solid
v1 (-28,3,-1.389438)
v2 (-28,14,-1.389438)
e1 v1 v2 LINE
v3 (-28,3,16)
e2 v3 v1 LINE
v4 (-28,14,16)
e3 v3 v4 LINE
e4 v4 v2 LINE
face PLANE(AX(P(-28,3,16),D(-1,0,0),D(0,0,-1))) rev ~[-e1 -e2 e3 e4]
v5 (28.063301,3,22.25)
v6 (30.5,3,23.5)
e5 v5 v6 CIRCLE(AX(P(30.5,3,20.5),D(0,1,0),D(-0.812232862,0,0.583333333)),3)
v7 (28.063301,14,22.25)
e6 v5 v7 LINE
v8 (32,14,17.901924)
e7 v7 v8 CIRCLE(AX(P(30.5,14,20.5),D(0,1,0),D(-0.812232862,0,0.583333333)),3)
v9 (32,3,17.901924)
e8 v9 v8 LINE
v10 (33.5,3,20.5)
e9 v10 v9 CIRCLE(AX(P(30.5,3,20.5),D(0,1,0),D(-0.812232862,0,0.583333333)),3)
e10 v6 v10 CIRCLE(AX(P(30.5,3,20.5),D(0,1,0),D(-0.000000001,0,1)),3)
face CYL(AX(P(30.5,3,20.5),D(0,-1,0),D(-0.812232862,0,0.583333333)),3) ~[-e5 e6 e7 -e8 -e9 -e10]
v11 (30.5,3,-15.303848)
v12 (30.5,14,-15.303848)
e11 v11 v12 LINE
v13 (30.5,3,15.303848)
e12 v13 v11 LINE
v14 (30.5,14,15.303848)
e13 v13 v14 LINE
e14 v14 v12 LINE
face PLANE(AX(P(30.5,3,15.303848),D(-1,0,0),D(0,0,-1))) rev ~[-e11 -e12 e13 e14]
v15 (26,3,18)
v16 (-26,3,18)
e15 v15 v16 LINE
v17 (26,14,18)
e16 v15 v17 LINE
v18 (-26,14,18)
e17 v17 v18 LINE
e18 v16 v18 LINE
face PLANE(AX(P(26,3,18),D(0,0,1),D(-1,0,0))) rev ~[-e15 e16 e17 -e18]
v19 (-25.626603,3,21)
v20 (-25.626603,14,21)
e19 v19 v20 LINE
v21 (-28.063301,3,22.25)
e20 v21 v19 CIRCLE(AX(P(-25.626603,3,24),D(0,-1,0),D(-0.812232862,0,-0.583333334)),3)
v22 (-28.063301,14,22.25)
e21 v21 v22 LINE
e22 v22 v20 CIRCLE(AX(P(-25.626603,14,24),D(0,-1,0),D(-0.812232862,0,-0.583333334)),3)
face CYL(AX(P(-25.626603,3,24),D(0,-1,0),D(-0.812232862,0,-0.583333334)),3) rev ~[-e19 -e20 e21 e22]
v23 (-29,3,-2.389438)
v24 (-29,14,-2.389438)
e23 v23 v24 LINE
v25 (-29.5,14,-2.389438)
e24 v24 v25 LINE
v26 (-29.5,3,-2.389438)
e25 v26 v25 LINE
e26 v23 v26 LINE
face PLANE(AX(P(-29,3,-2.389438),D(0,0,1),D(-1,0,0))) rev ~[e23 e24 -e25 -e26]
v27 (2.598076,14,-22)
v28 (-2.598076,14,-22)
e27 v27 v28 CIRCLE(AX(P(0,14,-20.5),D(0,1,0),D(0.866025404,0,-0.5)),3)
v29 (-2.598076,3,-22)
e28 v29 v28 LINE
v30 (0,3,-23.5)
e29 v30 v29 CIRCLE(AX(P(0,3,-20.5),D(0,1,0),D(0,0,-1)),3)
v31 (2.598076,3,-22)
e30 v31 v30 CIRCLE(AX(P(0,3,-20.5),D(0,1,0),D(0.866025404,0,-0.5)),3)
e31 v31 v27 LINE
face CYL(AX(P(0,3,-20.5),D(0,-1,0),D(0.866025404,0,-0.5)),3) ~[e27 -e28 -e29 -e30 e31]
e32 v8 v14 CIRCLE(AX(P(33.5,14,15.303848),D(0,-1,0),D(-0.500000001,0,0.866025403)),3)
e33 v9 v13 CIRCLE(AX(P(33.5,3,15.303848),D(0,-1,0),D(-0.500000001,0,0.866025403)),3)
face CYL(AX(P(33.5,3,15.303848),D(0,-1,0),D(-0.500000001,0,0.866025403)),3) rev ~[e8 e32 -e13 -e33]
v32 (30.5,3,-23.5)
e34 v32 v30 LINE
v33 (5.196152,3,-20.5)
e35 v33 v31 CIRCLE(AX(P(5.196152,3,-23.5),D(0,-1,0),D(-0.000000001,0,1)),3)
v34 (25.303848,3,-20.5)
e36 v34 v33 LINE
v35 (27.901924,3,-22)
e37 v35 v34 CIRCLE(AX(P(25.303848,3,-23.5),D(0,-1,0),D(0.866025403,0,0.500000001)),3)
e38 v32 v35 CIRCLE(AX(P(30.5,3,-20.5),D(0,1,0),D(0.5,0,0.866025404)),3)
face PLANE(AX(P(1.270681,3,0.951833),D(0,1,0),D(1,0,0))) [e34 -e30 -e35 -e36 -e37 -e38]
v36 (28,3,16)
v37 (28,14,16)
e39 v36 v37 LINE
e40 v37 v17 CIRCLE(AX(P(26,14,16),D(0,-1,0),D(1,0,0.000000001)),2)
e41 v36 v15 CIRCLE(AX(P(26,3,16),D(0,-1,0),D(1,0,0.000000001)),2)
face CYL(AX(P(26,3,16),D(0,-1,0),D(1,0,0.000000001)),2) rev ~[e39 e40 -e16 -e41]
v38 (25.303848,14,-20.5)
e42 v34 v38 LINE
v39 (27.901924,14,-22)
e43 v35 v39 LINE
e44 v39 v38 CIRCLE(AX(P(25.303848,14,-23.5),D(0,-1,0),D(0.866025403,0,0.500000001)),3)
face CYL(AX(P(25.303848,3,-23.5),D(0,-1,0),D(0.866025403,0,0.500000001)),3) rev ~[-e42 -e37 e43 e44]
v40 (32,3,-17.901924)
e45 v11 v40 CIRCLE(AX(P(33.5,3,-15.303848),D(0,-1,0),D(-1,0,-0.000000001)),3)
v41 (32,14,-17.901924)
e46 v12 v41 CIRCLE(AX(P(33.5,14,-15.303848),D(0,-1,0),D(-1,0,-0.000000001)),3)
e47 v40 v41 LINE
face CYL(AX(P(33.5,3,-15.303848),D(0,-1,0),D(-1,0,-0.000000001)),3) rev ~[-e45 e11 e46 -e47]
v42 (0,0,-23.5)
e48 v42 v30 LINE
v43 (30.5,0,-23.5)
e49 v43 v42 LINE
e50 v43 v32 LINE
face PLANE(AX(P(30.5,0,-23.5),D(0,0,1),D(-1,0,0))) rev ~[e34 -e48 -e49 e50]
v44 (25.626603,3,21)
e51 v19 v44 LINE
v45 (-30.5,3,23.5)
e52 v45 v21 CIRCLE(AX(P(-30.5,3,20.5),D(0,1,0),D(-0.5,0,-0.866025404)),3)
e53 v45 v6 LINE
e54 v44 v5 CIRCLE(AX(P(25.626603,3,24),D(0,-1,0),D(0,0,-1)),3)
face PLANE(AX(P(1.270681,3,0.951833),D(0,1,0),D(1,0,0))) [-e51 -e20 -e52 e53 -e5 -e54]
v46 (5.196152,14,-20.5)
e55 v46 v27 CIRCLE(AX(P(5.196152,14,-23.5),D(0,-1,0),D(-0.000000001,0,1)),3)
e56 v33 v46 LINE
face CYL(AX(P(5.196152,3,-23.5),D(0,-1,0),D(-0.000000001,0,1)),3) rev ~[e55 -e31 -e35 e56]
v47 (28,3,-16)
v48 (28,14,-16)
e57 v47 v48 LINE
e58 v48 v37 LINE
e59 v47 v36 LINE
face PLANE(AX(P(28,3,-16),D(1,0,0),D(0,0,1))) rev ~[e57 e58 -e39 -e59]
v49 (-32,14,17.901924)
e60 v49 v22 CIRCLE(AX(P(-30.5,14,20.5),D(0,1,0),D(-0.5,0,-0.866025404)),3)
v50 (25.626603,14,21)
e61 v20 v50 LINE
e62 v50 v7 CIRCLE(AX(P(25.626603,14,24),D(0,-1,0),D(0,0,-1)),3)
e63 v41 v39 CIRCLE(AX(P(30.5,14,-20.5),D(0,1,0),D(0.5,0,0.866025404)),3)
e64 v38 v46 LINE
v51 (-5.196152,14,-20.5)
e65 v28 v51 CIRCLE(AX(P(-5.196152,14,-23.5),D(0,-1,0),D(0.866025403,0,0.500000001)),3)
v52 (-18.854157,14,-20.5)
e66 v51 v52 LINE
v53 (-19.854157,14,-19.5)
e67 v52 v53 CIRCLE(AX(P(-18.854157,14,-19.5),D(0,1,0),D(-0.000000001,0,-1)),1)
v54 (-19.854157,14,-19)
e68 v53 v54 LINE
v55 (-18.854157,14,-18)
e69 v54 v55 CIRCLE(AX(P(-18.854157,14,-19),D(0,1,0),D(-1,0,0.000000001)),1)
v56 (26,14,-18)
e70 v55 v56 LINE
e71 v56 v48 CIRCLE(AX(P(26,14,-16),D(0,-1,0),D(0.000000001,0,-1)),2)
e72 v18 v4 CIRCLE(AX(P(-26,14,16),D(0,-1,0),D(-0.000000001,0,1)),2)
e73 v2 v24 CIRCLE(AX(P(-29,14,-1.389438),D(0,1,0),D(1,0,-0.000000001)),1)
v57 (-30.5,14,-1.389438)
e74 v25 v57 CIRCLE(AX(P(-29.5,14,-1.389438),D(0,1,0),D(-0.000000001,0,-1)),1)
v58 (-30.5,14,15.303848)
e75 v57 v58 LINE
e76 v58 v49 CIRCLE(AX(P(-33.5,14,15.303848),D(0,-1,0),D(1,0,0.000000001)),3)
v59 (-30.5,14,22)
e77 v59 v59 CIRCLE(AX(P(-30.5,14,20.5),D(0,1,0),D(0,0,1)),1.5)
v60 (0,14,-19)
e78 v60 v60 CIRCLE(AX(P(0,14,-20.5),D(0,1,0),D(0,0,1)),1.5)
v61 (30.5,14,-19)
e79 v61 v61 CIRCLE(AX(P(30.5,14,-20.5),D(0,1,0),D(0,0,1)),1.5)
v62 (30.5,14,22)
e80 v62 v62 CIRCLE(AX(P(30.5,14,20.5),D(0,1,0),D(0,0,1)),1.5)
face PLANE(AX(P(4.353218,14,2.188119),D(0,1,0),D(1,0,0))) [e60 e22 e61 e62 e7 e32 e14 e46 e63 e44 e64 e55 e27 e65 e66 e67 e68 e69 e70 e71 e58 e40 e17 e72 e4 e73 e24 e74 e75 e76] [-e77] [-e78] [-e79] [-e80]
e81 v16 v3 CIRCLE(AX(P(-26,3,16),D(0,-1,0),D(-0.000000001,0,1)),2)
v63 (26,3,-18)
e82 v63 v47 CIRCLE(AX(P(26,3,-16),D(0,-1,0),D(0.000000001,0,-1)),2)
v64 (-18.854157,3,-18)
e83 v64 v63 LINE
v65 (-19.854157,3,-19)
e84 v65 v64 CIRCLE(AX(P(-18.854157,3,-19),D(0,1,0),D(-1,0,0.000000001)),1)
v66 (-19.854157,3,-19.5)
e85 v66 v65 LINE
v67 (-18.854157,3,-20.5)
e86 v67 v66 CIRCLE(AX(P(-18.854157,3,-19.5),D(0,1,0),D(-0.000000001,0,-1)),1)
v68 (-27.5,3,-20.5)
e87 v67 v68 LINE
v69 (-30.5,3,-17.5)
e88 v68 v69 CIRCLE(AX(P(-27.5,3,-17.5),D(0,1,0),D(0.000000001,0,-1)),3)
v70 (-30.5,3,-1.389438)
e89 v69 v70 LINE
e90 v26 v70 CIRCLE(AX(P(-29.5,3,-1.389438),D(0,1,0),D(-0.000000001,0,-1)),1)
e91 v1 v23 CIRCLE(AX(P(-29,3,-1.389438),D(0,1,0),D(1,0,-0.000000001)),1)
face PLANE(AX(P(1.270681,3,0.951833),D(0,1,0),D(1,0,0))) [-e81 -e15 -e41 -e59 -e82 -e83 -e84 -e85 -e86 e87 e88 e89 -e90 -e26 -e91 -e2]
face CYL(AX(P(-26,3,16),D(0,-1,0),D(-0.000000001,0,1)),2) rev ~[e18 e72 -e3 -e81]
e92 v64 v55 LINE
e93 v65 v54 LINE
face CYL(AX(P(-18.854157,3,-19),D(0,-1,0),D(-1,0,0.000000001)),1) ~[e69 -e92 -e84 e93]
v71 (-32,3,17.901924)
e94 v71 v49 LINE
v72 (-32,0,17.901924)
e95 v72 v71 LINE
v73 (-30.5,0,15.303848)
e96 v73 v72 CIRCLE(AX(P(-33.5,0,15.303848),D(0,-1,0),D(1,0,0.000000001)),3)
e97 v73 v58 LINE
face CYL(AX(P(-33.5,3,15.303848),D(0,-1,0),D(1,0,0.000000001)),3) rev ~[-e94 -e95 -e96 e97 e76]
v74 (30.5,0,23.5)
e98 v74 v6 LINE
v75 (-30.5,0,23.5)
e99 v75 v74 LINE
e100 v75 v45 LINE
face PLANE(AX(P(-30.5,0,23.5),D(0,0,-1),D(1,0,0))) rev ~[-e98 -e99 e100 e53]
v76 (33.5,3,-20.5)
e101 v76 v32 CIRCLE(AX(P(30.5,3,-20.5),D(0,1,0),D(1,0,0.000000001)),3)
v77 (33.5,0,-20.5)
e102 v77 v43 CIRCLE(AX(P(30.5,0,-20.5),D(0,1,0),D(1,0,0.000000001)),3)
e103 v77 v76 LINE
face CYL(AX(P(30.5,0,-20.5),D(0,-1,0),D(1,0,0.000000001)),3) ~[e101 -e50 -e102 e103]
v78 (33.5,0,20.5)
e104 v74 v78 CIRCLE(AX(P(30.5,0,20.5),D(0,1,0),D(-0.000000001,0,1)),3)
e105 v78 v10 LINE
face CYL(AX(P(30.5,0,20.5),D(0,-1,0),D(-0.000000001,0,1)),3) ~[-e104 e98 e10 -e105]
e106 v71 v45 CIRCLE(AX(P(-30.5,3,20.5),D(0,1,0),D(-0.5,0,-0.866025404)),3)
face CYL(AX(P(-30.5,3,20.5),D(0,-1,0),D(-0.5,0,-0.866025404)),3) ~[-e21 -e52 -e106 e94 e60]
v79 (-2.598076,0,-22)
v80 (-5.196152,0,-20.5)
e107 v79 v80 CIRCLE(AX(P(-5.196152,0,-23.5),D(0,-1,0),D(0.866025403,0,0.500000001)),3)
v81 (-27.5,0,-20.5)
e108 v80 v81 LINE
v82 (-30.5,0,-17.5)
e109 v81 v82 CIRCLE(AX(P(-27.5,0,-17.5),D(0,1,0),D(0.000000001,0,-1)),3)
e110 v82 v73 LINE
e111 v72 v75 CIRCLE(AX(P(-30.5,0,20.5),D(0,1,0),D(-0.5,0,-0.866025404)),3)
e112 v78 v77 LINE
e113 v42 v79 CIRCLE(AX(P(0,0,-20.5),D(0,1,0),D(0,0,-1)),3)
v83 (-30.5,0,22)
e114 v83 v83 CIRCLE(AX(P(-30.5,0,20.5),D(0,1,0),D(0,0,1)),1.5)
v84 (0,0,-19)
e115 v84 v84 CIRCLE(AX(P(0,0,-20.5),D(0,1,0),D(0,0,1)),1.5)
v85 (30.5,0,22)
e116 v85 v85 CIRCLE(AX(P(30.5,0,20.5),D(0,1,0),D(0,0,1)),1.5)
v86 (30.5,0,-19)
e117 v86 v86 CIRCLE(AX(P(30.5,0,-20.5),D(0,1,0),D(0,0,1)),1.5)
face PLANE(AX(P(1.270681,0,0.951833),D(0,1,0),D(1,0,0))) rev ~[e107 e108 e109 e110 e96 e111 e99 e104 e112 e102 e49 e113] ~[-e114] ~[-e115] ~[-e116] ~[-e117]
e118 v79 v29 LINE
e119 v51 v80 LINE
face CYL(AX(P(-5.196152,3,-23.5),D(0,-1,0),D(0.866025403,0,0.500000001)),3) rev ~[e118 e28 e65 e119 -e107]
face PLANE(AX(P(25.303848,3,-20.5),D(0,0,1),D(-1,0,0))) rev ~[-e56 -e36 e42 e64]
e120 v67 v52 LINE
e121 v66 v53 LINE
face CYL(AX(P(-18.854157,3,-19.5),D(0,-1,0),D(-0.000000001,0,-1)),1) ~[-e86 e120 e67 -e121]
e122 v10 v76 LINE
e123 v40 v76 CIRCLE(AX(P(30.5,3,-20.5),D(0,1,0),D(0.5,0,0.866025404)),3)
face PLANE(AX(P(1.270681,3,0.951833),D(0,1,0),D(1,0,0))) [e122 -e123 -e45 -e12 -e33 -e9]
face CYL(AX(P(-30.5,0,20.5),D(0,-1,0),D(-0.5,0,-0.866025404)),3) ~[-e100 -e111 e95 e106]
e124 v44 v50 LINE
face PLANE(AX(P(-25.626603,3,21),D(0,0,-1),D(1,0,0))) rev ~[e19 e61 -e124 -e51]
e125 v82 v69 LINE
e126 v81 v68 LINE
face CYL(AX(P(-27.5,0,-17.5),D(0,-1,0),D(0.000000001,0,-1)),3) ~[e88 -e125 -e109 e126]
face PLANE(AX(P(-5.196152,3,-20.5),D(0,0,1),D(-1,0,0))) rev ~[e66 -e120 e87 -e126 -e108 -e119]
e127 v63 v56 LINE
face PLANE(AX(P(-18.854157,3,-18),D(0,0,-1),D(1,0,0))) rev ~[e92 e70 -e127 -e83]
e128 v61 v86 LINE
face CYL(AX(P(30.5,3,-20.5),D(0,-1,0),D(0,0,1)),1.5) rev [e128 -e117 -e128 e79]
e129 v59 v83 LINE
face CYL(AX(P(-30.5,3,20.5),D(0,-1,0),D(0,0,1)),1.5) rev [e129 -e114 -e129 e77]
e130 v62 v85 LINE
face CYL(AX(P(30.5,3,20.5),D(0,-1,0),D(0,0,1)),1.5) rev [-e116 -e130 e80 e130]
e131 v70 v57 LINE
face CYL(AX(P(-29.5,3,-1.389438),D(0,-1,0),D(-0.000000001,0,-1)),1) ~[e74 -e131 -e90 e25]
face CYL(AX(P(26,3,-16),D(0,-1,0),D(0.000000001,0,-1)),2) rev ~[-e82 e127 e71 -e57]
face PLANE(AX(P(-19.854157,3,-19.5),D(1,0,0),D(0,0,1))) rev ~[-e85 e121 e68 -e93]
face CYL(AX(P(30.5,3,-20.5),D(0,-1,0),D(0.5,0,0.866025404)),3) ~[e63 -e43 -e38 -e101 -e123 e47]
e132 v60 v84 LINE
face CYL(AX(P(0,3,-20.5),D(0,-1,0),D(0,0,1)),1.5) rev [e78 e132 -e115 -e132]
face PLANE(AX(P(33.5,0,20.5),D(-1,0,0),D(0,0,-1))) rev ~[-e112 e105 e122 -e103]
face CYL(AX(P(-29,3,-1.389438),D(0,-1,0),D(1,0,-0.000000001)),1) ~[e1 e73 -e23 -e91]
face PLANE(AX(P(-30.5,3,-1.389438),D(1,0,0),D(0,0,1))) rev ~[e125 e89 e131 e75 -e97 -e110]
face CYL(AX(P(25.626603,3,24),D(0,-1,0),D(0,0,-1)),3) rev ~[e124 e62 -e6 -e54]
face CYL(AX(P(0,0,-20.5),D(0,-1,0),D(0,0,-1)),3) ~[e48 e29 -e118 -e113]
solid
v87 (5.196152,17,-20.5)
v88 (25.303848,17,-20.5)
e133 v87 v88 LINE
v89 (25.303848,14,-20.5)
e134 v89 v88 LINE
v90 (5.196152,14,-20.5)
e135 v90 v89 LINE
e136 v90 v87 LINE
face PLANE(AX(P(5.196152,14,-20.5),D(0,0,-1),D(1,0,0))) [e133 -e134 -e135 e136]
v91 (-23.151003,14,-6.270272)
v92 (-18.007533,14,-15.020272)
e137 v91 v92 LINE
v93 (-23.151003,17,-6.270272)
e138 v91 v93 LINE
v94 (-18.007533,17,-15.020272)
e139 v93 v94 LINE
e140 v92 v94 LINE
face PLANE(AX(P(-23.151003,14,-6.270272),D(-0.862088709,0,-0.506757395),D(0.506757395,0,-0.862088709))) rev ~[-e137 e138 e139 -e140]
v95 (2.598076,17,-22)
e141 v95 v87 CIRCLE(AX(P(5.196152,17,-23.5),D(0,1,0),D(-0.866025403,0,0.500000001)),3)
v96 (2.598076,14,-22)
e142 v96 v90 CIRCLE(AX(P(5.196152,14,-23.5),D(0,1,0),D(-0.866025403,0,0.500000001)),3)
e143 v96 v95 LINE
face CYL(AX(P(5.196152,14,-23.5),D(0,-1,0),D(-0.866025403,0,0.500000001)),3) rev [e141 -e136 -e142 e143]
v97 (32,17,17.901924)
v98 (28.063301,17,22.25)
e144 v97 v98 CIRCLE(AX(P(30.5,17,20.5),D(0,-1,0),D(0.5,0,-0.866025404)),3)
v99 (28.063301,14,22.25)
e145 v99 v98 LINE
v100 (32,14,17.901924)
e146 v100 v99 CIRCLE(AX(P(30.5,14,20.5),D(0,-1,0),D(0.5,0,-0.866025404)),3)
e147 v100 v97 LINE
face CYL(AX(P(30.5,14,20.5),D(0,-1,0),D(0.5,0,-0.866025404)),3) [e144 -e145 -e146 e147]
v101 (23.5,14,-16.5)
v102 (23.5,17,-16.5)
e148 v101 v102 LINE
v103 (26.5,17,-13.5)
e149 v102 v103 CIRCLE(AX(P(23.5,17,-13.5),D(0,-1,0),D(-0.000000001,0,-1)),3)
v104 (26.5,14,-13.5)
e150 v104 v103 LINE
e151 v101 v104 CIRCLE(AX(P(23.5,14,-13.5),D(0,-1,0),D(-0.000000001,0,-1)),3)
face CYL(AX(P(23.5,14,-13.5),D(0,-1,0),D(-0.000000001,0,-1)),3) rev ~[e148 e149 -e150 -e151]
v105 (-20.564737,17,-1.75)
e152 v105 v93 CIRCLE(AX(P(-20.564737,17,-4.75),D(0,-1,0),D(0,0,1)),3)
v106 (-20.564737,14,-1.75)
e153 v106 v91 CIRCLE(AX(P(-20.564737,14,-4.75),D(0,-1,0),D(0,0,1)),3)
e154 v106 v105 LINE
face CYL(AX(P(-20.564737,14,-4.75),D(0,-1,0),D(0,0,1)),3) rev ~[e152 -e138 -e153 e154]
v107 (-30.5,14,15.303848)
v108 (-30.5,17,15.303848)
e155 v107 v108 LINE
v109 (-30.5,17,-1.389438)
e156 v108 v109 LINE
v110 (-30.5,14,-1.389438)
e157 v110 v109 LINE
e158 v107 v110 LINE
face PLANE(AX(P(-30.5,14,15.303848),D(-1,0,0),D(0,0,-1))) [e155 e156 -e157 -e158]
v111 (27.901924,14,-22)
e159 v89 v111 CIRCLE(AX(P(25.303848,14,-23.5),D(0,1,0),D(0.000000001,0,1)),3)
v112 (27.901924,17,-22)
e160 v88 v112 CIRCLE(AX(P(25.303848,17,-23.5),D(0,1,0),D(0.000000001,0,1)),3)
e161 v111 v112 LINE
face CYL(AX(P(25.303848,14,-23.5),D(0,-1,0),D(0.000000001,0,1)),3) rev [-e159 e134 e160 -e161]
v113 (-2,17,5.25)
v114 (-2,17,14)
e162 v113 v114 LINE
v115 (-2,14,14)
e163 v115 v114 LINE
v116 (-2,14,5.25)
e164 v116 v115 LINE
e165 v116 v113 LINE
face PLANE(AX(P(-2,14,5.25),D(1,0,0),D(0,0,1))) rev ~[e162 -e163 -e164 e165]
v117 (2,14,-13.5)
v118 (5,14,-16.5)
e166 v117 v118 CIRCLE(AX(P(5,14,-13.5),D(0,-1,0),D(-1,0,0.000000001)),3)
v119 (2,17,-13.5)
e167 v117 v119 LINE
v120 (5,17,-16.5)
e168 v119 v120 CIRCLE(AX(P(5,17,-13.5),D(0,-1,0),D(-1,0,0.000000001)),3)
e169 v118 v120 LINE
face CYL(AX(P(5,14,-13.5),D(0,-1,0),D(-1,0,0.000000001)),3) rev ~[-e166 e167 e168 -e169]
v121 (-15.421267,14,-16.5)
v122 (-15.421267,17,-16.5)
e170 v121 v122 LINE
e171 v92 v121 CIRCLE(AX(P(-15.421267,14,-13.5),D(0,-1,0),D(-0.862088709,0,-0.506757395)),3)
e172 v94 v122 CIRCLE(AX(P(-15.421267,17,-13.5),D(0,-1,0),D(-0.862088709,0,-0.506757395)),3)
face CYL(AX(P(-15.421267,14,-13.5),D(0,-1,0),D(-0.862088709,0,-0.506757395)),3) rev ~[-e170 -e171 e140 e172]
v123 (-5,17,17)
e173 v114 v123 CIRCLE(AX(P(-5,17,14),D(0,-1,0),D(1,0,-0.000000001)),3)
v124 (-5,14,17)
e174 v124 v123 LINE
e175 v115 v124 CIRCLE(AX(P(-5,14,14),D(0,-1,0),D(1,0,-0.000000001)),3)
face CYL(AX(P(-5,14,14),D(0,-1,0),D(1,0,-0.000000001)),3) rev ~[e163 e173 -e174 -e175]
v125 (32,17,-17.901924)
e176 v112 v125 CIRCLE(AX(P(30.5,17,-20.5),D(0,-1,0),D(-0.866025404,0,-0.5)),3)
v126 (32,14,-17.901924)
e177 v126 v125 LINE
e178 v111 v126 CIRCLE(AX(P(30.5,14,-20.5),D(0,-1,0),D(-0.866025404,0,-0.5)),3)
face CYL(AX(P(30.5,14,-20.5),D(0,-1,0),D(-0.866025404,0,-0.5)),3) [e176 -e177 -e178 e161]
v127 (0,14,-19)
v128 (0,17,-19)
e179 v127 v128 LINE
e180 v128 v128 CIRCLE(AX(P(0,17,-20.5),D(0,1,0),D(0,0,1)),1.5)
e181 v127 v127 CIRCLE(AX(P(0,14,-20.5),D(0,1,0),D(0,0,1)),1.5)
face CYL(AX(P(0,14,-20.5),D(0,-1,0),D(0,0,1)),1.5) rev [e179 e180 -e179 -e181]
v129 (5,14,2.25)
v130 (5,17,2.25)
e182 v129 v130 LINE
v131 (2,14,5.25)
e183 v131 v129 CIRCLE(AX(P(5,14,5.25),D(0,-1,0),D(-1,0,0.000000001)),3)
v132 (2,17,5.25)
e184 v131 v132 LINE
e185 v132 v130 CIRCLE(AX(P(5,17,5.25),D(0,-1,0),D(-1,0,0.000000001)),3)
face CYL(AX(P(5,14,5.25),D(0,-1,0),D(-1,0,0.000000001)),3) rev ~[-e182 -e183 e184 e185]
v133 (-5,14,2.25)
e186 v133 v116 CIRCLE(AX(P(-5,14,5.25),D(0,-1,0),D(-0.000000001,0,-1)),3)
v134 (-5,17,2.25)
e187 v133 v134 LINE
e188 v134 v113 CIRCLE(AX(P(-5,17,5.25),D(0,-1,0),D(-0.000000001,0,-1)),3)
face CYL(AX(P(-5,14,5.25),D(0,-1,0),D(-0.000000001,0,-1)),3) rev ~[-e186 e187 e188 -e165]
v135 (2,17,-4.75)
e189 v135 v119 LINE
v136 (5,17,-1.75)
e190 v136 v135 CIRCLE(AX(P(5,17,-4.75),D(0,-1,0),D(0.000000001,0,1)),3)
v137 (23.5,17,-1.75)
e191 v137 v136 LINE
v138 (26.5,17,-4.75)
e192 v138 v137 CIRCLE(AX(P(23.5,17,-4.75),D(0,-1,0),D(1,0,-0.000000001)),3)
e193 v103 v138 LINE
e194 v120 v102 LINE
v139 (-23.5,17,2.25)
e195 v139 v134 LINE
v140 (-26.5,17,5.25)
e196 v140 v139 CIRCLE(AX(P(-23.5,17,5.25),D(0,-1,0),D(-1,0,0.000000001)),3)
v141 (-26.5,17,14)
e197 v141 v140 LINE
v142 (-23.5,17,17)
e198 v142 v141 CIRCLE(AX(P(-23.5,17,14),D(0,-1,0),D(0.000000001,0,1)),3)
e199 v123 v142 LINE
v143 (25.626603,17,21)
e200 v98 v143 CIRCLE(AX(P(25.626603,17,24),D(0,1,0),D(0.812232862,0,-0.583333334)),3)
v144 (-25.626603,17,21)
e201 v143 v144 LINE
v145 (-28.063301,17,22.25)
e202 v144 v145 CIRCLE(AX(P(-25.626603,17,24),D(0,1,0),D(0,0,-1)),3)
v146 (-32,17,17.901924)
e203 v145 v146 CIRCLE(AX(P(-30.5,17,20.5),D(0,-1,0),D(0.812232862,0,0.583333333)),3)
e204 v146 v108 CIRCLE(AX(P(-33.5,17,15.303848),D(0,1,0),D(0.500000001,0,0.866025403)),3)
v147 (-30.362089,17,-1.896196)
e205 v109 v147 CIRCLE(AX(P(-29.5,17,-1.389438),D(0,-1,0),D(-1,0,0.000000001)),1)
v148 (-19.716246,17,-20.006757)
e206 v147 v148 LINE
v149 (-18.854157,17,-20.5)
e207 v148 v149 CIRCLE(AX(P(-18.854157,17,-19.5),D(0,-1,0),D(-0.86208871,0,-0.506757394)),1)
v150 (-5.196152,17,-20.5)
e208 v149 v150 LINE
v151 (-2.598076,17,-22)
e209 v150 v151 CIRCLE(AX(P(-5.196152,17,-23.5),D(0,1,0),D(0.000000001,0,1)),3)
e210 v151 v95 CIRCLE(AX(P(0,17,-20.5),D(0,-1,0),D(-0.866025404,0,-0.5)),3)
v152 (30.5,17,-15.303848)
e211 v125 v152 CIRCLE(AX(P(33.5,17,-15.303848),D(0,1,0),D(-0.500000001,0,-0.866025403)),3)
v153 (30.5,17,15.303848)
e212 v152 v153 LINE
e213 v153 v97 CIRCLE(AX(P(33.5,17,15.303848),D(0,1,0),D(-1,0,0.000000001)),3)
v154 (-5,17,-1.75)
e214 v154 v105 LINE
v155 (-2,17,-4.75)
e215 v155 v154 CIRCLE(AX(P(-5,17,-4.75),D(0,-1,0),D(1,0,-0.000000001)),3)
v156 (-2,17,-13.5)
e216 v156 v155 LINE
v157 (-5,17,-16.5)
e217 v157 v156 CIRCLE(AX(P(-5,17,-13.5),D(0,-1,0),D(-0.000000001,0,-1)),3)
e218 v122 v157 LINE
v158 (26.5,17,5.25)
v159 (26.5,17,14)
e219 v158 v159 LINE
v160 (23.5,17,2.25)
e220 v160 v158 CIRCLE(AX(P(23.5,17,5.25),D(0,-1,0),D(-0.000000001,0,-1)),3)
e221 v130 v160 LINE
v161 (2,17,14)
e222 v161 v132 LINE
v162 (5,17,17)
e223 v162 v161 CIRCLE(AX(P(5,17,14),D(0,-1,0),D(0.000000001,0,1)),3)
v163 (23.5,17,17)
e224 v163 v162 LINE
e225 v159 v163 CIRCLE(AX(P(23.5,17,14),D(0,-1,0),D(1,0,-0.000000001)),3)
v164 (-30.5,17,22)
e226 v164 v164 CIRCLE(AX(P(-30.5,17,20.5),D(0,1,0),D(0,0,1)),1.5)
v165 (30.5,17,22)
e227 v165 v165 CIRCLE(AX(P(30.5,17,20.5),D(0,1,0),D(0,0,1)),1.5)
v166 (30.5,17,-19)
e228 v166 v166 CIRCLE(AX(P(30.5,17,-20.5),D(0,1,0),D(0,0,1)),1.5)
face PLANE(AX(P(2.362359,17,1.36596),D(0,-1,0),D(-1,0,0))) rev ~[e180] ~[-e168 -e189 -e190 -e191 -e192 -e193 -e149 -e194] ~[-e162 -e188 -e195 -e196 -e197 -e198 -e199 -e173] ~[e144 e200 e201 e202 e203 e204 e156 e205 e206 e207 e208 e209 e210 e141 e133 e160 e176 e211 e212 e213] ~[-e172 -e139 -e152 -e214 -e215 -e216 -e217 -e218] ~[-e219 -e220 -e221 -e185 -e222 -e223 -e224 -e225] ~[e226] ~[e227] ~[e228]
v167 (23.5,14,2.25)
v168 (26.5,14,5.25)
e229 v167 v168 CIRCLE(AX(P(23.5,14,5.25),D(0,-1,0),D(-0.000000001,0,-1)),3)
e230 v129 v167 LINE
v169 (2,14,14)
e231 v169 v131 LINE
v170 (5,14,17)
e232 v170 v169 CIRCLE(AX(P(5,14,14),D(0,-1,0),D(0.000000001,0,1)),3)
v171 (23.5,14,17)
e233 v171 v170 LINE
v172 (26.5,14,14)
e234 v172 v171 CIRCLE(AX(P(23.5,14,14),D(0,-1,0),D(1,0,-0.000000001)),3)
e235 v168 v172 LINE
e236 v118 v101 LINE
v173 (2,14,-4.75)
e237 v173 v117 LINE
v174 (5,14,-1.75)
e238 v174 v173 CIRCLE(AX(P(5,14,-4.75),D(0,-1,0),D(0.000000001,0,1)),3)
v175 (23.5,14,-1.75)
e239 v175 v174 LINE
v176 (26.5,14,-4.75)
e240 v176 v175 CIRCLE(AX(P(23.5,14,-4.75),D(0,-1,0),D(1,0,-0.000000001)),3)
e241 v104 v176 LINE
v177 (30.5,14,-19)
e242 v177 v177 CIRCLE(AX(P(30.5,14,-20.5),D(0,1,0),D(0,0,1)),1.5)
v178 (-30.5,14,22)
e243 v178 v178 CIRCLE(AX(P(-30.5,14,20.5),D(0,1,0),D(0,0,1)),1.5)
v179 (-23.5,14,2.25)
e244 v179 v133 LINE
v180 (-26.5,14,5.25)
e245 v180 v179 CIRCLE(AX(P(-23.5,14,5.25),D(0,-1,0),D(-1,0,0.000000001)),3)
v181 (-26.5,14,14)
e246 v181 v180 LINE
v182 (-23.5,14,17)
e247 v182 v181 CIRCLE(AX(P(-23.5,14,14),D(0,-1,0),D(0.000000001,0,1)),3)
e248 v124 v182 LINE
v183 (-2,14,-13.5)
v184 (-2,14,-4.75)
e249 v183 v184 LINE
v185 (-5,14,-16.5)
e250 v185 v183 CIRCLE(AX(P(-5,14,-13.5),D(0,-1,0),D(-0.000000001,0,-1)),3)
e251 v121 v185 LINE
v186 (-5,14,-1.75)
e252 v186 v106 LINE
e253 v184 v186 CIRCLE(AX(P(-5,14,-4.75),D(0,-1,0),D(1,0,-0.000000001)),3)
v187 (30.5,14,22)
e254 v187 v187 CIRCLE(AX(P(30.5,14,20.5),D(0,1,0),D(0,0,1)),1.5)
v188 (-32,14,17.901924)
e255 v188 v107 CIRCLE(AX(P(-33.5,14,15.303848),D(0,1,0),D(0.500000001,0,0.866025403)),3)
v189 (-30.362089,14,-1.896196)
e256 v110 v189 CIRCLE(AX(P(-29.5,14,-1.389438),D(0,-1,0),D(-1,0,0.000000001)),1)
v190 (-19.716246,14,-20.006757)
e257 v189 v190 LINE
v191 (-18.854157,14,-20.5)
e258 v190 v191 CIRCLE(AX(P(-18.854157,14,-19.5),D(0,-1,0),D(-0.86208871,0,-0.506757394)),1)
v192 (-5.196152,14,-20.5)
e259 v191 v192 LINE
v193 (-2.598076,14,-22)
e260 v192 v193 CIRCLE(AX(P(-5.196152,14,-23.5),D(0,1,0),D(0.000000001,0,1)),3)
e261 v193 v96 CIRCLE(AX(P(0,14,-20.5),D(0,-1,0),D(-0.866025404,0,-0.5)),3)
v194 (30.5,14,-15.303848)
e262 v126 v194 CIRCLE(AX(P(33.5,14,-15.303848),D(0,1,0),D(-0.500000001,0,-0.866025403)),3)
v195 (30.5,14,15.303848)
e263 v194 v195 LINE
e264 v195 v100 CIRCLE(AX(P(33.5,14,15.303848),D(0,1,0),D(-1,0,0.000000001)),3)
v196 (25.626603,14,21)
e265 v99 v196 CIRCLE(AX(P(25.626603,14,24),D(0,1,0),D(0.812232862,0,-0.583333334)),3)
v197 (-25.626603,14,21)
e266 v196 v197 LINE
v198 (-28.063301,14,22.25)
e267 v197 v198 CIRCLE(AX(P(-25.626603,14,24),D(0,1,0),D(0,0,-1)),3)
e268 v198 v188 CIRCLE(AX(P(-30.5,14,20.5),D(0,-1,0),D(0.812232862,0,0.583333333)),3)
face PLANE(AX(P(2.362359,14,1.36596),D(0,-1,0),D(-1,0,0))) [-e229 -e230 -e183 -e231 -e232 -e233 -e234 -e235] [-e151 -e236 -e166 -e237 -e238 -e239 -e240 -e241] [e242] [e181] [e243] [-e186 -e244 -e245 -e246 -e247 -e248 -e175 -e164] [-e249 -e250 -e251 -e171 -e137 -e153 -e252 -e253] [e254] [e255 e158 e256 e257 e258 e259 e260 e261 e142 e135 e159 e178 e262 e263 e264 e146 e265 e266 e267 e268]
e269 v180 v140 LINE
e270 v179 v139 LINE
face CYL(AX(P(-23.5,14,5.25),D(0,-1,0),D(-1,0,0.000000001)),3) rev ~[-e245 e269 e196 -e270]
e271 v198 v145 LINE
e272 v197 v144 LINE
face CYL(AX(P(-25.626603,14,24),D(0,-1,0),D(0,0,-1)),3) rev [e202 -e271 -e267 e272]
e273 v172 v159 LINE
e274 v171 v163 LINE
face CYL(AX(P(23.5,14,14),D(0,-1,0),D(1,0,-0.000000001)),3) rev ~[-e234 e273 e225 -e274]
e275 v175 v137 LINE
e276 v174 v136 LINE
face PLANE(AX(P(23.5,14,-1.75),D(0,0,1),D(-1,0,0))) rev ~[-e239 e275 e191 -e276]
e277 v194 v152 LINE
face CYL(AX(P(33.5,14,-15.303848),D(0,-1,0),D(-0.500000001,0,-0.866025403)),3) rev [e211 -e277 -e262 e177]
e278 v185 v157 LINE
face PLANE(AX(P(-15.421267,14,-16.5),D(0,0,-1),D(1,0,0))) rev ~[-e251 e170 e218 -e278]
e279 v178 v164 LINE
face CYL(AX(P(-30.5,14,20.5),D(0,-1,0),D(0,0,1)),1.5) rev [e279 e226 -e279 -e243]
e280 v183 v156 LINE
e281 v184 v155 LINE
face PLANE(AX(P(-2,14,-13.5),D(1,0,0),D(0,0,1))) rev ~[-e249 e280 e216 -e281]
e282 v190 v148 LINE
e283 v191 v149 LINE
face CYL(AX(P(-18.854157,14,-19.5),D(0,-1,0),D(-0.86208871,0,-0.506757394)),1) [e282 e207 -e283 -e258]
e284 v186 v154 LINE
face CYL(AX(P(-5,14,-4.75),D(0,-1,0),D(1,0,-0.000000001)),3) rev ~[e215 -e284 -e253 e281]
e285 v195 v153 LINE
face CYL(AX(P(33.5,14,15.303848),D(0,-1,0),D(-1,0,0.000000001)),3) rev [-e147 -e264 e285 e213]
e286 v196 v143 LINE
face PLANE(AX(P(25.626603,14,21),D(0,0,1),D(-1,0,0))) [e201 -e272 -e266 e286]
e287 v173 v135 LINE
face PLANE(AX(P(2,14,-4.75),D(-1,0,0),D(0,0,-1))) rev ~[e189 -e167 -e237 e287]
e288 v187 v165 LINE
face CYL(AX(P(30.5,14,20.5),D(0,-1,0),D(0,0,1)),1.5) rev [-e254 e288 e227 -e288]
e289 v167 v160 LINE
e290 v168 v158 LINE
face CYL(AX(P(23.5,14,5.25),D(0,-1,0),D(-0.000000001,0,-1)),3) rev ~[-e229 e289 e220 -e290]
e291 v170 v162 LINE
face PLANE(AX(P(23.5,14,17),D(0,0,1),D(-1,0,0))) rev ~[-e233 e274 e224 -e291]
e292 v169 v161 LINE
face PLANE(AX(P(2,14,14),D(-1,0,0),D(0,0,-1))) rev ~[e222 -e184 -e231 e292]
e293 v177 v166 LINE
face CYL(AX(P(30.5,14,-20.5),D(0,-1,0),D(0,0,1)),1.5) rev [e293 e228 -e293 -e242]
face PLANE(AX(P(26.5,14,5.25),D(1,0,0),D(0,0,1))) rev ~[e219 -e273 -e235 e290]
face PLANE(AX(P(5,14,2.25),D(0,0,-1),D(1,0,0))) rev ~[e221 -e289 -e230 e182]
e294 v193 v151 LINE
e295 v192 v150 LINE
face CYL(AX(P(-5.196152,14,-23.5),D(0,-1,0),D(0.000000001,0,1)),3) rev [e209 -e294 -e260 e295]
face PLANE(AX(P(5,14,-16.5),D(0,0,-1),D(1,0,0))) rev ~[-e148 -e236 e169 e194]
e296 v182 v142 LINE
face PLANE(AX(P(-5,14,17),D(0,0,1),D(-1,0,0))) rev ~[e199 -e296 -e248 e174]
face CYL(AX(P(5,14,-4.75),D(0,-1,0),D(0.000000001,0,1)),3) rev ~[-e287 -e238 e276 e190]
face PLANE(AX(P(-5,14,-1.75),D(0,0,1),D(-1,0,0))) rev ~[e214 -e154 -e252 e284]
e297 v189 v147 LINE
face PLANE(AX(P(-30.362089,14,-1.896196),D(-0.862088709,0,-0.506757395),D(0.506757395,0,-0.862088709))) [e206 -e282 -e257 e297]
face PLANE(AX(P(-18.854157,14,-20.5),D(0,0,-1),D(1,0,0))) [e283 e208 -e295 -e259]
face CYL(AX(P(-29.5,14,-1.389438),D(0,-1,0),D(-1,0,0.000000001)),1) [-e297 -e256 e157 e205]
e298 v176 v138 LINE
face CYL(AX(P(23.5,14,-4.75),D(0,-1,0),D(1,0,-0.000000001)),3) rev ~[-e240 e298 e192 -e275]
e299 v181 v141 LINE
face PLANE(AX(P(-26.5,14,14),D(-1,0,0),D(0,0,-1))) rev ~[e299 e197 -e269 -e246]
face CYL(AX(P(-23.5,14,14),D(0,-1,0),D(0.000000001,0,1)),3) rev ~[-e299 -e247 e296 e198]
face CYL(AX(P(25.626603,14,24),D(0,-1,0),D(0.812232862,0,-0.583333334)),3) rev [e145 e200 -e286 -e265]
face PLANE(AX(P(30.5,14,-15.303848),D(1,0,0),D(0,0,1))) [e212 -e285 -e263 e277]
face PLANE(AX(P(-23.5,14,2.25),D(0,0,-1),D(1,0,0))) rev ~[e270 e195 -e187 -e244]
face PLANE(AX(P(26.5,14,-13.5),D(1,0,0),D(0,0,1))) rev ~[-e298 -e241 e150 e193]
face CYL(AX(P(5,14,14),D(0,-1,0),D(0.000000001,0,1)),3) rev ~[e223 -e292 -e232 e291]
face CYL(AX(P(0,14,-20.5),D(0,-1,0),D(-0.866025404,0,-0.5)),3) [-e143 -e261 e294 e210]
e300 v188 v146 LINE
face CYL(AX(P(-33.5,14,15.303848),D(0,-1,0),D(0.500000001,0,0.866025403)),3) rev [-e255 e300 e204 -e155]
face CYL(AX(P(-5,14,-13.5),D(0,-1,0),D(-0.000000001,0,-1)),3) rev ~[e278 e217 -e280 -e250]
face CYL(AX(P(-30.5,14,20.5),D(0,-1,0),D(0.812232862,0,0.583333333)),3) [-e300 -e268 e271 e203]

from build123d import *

# Parameters (mm, degrees)
SKETCH5_R           = 1.5
BOSS_EXTRUDE2_DEPTH = 3
SKETCH6_R           = 1.5
BOSS_EXTRUDE3_DEPTH = 11
SKETCH7_R           = 1.5
BOSS_EXTRUDE4_DEPTH = 3


with BuildPart() as part:
    # Sketch5 → Boss-Extrude2 (new body)
    with BuildSketch(Plane(origin=(0, 0, 0), x_dir=(1, 0, 0), z_dir=(0, 1, 0))):
        with BuildLine():
            Line((-5.196152423, 20.5), (-27.5, 20.5))
            ThreePointArc((-27.5, 20.5), (-29.621320344, 19.621320344), (-30.5, 17.5))
            Line((-30.5, 17.5), (-30.5, -15.303847577))
            ThreePointArc((-30.5, -15.303847577), (-30.901923789, -16.803847577), (-32, -17.901923789))
            ThreePointArc((-32, -17.901923789), (-33.397777479, -21.276457135), (-30.5, -23.5))
            Line((-30.5, -23.5), (30.5, -23.5))
            ThreePointArc((30.5, -23.5), (32.621320344, -22.621320344), (33.5, -20.5))
            Line((33.5, -20.5), (33.5, 20.5))
            ThreePointArc((33.5, 20.5), (32.621320344, 22.621320344), (30.5, 23.5))
            Line((30.5, 23.5), (0, 23.5))
            ThreePointArc((0, 23.5), (-1.5, 23.098076211), (-2.598076211, 22))
            ThreePointArc((-2.598076211, 22), (-3.696152423, 20.901923789), (-5.196152423, 20.5))
        make_face()
        with Locations(Location((0, 20.5, 0), (0, 0, 270))):
            Circle(SKETCH5_R, mode=Mode.SUBTRACT)
        with Locations(Location((30.5, 20.5, 0), (0, 0, 270))):
            Circle(SKETCH5_R, mode=Mode.SUBTRACT)
        with Locations(Location((30.5, -20.5, 0), (0, 0, 270))):
            Circle(SKETCH5_R, mode=Mode.SUBTRACT)
        with Locations(Location((-30.5, -20.5, 0), (0, 0, 270))):
            Circle(SKETCH5_R, mode=Mode.SUBTRACT)
    extrude(amount=BOSS_EXTRUDE2_DEPTH)

    # Sketch6 → Boss-Extrude3 (add)
    with BuildSketch(Plane(origin=(0, 3, 0), x_dir=(1, 0, 0), z_dir=(0, 1, 0))):
        with BuildLine():
            Line((-30.5, 1.389438463), (-30.5, -15.303847577))
            ThreePointArc((-30.5, -15.303847577), (-30.901923789, -16.803847577), (-32, -17.901923789))
            ThreePointArc((-32, -17.901923789), (-32.723913835, -22.513506209), (-28.063301414, -22.25))
            ThreePointArc((-28.063301414, -22.25), (-26.995909221, -21.330730437), (-25.626602828, -21))
            Line((-25.626602828, -21), (25.626602828, -21))
            ThreePointArc((25.626602828, -21), (26.995909221, -21.330730437), (28.063301414, -22.25))
            ThreePointArc((28.063301414, -22.25), (32.723913835, -22.513506209), (32, -17.901923789))
            ThreePointArc((32, -17.901923789), (30.901923789, -16.803847577), (30.5, -15.303847577))
            Line((30.5, -15.303847577), (30.5, 15.303847577))
            ThreePointArc((30.5, 15.303847577), (30.901923789, 16.803847577), (32, 17.901923789))
            ThreePointArc((32, 17.901923789), (32.621320344, 22.621320344), (27.901923789, 22))
            ThreePointArc((27.901923789, 22), (26.803847577, 20.901923789), (25.303847577, 20.5))
            Line((25.303847577, 20.5), (5.196152423, 20.5))
            ThreePointArc((5.196152423, 20.5), (3.696152423, 20.901923789), (2.598076211, 22))
            ThreePointArc((2.598076211, 22), (0, 23.5), (-2.598076211, 22))
            ThreePointArc((-2.598076211, 22), (-3.696152423, 20.901923789), (-5.196152423, 20.5))
            Line((-5.196152423, 20.5), (-18.854157071, 20.5))
            ThreePointArc((-18.854157071, 20.5), (-19.561263852, 20.207106781), (-19.854157071, 19.5))
            Line((-19.854157071, 19.5), (-19.854157071, 19))
            ThreePointArc((-19.854157071, 19), (-19.561263852, 18.292893219), (-18.854157071, 18))
            Line((-18.854157071, 18), (26, 18))
            ThreePointArc((26, 18), (27.414213562, 17.414213562), (28, 16))
            Line((28, 16), (28, -16))
            ThreePointArc((28, -16), (27.414213562, -17.414213562), (26, -18))
            Line((26, -18), (-26, -18))
            ThreePointArc((-26, -18), (-27.414213562, -17.414213562), (-28, -16))
            Line((-28, -16), (-28, 1.389438463))
            ThreePointArc((-28, 1.389438463), (-28.292893219, 2.096545244), (-29, 2.389438463))
            Line((-29, 2.389438463), (-29.5, 2.389438463))
            ThreePointArc((-29.5, 2.389438463), (-30.207106781, 2.096545244), (-30.5, 1.389438463))
        make_face()
        with Locations(Location((0, 20.5, 0), (0, 0, 270))):
            Circle(SKETCH6_R, mode=Mode.SUBTRACT)
        with Locations(Location((30.5, 20.5, 0), (0, 0, 270))):
            Circle(SKETCH6_R, mode=Mode.SUBTRACT)
        with Locations(Location((30.5, -20.5, 0), (0, 0, 270))):
            Circle(SKETCH6_R, mode=Mode.SUBTRACT)
        with Locations(Location((-30.5, -20.5, 0), (0, 0, 270))):
            Circle(SKETCH6_R, mode=Mode.SUBTRACT)
    extrude(amount=BOSS_EXTRUDE3_DEPTH)


with BuildPart() as body_2:
    # Sketch7 → Boss-Extrude4 (new body)
    with BuildSketch(Plane(origin=(0, 14, 0), x_dir=(1, 0, 0), z_dir=(0, 1, 0))):
        with BuildLine():
            Line((-30.362088709, 1.896195858), (-19.71624578, 20.006757395))
            ThreePointArc((-19.71624578, 20.006757395), (-19.35076688, 20.367973904), (-18.854157071, 20.5))
            Line((-18.854157071, 20.5), (-5.196152423, 20.5))
            ThreePointArc((-5.196152423, 20.5), (-3.696152423, 20.901923789), (-2.598076211, 22))
            ThreePointArc((-2.598076211, 22), (0, 23.5), (2.598076211, 22))
            ThreePointArc((2.598076211, 22), (3.696152423, 20.901923789), (5.196152423, 20.5))
            Line((5.196152423, 20.5), (25.303847577, 20.5))
            ThreePointArc((25.303847577, 20.5), (26.803847577, 20.901923789), (27.901923789, 22))
            ThreePointArc((27.901923789, 22), (32.621320344, 22.621320344), (32, 17.901923789))
            ThreePointArc((32, 17.901923789), (30.901923789, 16.803847577), (30.5, 15.303847577))
            Line((30.5, 15.303847577), (30.5, -15.303847577))
            ThreePointArc((30.5, -15.303847577), (30.901923789, -16.803847577), (32, -17.901923789))
            ThreePointArc((32, -17.901923789), (32.723913835, -22.513506209), (28.063301414, -22.25))
            ThreePointArc((28.063301414, -22.25), (26.995909221, -21.330730437), (25.626602828, -21))
            Line((25.626602828, -21), (-25.626602828, -21))
            ThreePointArc((-25.626602828, -21), (-26.995909221, -21.330730437), (-28.063301414, -22.25))
            ThreePointArc((-28.063301414, -22.25), (-32.723913835, -22.513506209), (-32, -17.901923789))
            ThreePointArc((-32, -17.901923789), (-30.901923789, -16.803847577), (-30.5, -15.303847577))
            Line((-30.5, -15.303847577), (-30.5, 1.389438463))
            ThreePointArc((-30.5, 1.389438463), (-30.464906397, 1.652032532), (-30.362088709, 1.896195858))
        make_face()
        with Locations(Location((0, 20.5, 0), (0, 0, 270))):
            Circle(SKETCH7_R, mode=Mode.SUBTRACT)
        with Locations(Location((30.5, 20.5, 0), (0, 0, 270))):
            Circle(SKETCH7_R, mode=Mode.SUBTRACT)
        with Locations(Location((30.5, -20.5, 0), (0, 0, 270))):
            Circle(SKETCH7_R, mode=Mode.SUBTRACT)
        with Locations(Location((-30.5, -20.5, 0), (0, 0, 270))):
            Circle(SKETCH7_R, mode=Mode.SUBTRACT)
        with BuildLine():
            Line((-26.5, -14), (-26.5, -5.25))
            ThreePointArc((-26.5, -5.25), (-25.621320344, -3.128679656), (-23.5, -2.25))
            Line((-23.5, -2.25), (-5, -2.25))
            ThreePointArc((-5, -2.25), (-2.878679656, -3.128679656), (-2, -5.25))
            Line((-2, -5.25), (-2, -14))
            ThreePointArc((-2, -14), (-2.878679656, -16.121320344), (-5, -17))
            Line((-5, -17), (-23.5, -17))
            ThreePointArc((-23.5, -17), (-25.621320344, -16.121320344), (-26.5, -14))
        make_face(mode=Mode.SUBTRACT)
        with BuildLine():
            Line((-23.151003052, 6.270272185), (-18.007533291, 15.020272185))
            ThreePointArc((-18.007533291, 15.020272185), (-16.91109659, 16.103921711), (-15.421267163, 16.5))
            Line((-15.421267163, 16.5), (-5, 16.5))
            ThreePointArc((-5, 16.5), (-2.878679656, 15.621320344), (-2, 13.5))
            Line((-2, 13.5), (-2, 4.75))
            ThreePointArc((-2, 4.75), (-2.878679656, 2.628679656), (-5, 1.75))
            Line((-5, 1.75), (-20.564736925, 1.75))
            ThreePointArc((-20.564736925, 1.75), (-23.168658636, 3.260170573), (-23.151003052, 6.270272185))
        make_face(mode=Mode.SUBTRACT)
        with BuildLine():
            Line((26.5, 13.5), (26.5, 4.75))
            ThreePointArc((26.5, 4.75), (25.621320344, 2.628679656), (23.5, 1.75))
            Line((23.5, 1.75), (5, 1.75))
            ThreePointArc((5, 1.75), (2.878679656, 2.628679656), (2, 4.75))
            Line((2, 4.75), (2, 13.5))
            ThreePointArc((2, 13.5), (2.878679656, 15.621320344), (5, 16.5))
            Line((5, 16.5), (23.5, 16.5))
            ThreePointArc((23.5, 16.5), (25.621320344, 15.621320344), (26.5, 13.5))
        make_face(mode=Mode.SUBTRACT)
        with BuildLine():
            Line((23.5, -17), (5, -17))
            ThreePointArc((5, -17), (2.878679656, -16.121320344), (2, -14))
            Line((2, -14), (2, -5.25))
            ThreePointArc((2, -5.25), (2.878679656, -3.128679656), (5, -2.25))
            Line((5, -2.25), (23.5, -2.25))
            ThreePointArc((23.5, -2.25), (25.621320344, -3.128679656), (26.5, -5.25))
            Line((26.5, -5.25), (26.5, -14))
            ThreePointArc((26.5, -14), (25.621320344, -16.121320344), (23.5, -17))
        make_face(mode=Mode.SUBTRACT)
    extrude(amount=BOSS_EXTRUDE4_DEPTH)


solid = Compound([part.part, body_2.part])
